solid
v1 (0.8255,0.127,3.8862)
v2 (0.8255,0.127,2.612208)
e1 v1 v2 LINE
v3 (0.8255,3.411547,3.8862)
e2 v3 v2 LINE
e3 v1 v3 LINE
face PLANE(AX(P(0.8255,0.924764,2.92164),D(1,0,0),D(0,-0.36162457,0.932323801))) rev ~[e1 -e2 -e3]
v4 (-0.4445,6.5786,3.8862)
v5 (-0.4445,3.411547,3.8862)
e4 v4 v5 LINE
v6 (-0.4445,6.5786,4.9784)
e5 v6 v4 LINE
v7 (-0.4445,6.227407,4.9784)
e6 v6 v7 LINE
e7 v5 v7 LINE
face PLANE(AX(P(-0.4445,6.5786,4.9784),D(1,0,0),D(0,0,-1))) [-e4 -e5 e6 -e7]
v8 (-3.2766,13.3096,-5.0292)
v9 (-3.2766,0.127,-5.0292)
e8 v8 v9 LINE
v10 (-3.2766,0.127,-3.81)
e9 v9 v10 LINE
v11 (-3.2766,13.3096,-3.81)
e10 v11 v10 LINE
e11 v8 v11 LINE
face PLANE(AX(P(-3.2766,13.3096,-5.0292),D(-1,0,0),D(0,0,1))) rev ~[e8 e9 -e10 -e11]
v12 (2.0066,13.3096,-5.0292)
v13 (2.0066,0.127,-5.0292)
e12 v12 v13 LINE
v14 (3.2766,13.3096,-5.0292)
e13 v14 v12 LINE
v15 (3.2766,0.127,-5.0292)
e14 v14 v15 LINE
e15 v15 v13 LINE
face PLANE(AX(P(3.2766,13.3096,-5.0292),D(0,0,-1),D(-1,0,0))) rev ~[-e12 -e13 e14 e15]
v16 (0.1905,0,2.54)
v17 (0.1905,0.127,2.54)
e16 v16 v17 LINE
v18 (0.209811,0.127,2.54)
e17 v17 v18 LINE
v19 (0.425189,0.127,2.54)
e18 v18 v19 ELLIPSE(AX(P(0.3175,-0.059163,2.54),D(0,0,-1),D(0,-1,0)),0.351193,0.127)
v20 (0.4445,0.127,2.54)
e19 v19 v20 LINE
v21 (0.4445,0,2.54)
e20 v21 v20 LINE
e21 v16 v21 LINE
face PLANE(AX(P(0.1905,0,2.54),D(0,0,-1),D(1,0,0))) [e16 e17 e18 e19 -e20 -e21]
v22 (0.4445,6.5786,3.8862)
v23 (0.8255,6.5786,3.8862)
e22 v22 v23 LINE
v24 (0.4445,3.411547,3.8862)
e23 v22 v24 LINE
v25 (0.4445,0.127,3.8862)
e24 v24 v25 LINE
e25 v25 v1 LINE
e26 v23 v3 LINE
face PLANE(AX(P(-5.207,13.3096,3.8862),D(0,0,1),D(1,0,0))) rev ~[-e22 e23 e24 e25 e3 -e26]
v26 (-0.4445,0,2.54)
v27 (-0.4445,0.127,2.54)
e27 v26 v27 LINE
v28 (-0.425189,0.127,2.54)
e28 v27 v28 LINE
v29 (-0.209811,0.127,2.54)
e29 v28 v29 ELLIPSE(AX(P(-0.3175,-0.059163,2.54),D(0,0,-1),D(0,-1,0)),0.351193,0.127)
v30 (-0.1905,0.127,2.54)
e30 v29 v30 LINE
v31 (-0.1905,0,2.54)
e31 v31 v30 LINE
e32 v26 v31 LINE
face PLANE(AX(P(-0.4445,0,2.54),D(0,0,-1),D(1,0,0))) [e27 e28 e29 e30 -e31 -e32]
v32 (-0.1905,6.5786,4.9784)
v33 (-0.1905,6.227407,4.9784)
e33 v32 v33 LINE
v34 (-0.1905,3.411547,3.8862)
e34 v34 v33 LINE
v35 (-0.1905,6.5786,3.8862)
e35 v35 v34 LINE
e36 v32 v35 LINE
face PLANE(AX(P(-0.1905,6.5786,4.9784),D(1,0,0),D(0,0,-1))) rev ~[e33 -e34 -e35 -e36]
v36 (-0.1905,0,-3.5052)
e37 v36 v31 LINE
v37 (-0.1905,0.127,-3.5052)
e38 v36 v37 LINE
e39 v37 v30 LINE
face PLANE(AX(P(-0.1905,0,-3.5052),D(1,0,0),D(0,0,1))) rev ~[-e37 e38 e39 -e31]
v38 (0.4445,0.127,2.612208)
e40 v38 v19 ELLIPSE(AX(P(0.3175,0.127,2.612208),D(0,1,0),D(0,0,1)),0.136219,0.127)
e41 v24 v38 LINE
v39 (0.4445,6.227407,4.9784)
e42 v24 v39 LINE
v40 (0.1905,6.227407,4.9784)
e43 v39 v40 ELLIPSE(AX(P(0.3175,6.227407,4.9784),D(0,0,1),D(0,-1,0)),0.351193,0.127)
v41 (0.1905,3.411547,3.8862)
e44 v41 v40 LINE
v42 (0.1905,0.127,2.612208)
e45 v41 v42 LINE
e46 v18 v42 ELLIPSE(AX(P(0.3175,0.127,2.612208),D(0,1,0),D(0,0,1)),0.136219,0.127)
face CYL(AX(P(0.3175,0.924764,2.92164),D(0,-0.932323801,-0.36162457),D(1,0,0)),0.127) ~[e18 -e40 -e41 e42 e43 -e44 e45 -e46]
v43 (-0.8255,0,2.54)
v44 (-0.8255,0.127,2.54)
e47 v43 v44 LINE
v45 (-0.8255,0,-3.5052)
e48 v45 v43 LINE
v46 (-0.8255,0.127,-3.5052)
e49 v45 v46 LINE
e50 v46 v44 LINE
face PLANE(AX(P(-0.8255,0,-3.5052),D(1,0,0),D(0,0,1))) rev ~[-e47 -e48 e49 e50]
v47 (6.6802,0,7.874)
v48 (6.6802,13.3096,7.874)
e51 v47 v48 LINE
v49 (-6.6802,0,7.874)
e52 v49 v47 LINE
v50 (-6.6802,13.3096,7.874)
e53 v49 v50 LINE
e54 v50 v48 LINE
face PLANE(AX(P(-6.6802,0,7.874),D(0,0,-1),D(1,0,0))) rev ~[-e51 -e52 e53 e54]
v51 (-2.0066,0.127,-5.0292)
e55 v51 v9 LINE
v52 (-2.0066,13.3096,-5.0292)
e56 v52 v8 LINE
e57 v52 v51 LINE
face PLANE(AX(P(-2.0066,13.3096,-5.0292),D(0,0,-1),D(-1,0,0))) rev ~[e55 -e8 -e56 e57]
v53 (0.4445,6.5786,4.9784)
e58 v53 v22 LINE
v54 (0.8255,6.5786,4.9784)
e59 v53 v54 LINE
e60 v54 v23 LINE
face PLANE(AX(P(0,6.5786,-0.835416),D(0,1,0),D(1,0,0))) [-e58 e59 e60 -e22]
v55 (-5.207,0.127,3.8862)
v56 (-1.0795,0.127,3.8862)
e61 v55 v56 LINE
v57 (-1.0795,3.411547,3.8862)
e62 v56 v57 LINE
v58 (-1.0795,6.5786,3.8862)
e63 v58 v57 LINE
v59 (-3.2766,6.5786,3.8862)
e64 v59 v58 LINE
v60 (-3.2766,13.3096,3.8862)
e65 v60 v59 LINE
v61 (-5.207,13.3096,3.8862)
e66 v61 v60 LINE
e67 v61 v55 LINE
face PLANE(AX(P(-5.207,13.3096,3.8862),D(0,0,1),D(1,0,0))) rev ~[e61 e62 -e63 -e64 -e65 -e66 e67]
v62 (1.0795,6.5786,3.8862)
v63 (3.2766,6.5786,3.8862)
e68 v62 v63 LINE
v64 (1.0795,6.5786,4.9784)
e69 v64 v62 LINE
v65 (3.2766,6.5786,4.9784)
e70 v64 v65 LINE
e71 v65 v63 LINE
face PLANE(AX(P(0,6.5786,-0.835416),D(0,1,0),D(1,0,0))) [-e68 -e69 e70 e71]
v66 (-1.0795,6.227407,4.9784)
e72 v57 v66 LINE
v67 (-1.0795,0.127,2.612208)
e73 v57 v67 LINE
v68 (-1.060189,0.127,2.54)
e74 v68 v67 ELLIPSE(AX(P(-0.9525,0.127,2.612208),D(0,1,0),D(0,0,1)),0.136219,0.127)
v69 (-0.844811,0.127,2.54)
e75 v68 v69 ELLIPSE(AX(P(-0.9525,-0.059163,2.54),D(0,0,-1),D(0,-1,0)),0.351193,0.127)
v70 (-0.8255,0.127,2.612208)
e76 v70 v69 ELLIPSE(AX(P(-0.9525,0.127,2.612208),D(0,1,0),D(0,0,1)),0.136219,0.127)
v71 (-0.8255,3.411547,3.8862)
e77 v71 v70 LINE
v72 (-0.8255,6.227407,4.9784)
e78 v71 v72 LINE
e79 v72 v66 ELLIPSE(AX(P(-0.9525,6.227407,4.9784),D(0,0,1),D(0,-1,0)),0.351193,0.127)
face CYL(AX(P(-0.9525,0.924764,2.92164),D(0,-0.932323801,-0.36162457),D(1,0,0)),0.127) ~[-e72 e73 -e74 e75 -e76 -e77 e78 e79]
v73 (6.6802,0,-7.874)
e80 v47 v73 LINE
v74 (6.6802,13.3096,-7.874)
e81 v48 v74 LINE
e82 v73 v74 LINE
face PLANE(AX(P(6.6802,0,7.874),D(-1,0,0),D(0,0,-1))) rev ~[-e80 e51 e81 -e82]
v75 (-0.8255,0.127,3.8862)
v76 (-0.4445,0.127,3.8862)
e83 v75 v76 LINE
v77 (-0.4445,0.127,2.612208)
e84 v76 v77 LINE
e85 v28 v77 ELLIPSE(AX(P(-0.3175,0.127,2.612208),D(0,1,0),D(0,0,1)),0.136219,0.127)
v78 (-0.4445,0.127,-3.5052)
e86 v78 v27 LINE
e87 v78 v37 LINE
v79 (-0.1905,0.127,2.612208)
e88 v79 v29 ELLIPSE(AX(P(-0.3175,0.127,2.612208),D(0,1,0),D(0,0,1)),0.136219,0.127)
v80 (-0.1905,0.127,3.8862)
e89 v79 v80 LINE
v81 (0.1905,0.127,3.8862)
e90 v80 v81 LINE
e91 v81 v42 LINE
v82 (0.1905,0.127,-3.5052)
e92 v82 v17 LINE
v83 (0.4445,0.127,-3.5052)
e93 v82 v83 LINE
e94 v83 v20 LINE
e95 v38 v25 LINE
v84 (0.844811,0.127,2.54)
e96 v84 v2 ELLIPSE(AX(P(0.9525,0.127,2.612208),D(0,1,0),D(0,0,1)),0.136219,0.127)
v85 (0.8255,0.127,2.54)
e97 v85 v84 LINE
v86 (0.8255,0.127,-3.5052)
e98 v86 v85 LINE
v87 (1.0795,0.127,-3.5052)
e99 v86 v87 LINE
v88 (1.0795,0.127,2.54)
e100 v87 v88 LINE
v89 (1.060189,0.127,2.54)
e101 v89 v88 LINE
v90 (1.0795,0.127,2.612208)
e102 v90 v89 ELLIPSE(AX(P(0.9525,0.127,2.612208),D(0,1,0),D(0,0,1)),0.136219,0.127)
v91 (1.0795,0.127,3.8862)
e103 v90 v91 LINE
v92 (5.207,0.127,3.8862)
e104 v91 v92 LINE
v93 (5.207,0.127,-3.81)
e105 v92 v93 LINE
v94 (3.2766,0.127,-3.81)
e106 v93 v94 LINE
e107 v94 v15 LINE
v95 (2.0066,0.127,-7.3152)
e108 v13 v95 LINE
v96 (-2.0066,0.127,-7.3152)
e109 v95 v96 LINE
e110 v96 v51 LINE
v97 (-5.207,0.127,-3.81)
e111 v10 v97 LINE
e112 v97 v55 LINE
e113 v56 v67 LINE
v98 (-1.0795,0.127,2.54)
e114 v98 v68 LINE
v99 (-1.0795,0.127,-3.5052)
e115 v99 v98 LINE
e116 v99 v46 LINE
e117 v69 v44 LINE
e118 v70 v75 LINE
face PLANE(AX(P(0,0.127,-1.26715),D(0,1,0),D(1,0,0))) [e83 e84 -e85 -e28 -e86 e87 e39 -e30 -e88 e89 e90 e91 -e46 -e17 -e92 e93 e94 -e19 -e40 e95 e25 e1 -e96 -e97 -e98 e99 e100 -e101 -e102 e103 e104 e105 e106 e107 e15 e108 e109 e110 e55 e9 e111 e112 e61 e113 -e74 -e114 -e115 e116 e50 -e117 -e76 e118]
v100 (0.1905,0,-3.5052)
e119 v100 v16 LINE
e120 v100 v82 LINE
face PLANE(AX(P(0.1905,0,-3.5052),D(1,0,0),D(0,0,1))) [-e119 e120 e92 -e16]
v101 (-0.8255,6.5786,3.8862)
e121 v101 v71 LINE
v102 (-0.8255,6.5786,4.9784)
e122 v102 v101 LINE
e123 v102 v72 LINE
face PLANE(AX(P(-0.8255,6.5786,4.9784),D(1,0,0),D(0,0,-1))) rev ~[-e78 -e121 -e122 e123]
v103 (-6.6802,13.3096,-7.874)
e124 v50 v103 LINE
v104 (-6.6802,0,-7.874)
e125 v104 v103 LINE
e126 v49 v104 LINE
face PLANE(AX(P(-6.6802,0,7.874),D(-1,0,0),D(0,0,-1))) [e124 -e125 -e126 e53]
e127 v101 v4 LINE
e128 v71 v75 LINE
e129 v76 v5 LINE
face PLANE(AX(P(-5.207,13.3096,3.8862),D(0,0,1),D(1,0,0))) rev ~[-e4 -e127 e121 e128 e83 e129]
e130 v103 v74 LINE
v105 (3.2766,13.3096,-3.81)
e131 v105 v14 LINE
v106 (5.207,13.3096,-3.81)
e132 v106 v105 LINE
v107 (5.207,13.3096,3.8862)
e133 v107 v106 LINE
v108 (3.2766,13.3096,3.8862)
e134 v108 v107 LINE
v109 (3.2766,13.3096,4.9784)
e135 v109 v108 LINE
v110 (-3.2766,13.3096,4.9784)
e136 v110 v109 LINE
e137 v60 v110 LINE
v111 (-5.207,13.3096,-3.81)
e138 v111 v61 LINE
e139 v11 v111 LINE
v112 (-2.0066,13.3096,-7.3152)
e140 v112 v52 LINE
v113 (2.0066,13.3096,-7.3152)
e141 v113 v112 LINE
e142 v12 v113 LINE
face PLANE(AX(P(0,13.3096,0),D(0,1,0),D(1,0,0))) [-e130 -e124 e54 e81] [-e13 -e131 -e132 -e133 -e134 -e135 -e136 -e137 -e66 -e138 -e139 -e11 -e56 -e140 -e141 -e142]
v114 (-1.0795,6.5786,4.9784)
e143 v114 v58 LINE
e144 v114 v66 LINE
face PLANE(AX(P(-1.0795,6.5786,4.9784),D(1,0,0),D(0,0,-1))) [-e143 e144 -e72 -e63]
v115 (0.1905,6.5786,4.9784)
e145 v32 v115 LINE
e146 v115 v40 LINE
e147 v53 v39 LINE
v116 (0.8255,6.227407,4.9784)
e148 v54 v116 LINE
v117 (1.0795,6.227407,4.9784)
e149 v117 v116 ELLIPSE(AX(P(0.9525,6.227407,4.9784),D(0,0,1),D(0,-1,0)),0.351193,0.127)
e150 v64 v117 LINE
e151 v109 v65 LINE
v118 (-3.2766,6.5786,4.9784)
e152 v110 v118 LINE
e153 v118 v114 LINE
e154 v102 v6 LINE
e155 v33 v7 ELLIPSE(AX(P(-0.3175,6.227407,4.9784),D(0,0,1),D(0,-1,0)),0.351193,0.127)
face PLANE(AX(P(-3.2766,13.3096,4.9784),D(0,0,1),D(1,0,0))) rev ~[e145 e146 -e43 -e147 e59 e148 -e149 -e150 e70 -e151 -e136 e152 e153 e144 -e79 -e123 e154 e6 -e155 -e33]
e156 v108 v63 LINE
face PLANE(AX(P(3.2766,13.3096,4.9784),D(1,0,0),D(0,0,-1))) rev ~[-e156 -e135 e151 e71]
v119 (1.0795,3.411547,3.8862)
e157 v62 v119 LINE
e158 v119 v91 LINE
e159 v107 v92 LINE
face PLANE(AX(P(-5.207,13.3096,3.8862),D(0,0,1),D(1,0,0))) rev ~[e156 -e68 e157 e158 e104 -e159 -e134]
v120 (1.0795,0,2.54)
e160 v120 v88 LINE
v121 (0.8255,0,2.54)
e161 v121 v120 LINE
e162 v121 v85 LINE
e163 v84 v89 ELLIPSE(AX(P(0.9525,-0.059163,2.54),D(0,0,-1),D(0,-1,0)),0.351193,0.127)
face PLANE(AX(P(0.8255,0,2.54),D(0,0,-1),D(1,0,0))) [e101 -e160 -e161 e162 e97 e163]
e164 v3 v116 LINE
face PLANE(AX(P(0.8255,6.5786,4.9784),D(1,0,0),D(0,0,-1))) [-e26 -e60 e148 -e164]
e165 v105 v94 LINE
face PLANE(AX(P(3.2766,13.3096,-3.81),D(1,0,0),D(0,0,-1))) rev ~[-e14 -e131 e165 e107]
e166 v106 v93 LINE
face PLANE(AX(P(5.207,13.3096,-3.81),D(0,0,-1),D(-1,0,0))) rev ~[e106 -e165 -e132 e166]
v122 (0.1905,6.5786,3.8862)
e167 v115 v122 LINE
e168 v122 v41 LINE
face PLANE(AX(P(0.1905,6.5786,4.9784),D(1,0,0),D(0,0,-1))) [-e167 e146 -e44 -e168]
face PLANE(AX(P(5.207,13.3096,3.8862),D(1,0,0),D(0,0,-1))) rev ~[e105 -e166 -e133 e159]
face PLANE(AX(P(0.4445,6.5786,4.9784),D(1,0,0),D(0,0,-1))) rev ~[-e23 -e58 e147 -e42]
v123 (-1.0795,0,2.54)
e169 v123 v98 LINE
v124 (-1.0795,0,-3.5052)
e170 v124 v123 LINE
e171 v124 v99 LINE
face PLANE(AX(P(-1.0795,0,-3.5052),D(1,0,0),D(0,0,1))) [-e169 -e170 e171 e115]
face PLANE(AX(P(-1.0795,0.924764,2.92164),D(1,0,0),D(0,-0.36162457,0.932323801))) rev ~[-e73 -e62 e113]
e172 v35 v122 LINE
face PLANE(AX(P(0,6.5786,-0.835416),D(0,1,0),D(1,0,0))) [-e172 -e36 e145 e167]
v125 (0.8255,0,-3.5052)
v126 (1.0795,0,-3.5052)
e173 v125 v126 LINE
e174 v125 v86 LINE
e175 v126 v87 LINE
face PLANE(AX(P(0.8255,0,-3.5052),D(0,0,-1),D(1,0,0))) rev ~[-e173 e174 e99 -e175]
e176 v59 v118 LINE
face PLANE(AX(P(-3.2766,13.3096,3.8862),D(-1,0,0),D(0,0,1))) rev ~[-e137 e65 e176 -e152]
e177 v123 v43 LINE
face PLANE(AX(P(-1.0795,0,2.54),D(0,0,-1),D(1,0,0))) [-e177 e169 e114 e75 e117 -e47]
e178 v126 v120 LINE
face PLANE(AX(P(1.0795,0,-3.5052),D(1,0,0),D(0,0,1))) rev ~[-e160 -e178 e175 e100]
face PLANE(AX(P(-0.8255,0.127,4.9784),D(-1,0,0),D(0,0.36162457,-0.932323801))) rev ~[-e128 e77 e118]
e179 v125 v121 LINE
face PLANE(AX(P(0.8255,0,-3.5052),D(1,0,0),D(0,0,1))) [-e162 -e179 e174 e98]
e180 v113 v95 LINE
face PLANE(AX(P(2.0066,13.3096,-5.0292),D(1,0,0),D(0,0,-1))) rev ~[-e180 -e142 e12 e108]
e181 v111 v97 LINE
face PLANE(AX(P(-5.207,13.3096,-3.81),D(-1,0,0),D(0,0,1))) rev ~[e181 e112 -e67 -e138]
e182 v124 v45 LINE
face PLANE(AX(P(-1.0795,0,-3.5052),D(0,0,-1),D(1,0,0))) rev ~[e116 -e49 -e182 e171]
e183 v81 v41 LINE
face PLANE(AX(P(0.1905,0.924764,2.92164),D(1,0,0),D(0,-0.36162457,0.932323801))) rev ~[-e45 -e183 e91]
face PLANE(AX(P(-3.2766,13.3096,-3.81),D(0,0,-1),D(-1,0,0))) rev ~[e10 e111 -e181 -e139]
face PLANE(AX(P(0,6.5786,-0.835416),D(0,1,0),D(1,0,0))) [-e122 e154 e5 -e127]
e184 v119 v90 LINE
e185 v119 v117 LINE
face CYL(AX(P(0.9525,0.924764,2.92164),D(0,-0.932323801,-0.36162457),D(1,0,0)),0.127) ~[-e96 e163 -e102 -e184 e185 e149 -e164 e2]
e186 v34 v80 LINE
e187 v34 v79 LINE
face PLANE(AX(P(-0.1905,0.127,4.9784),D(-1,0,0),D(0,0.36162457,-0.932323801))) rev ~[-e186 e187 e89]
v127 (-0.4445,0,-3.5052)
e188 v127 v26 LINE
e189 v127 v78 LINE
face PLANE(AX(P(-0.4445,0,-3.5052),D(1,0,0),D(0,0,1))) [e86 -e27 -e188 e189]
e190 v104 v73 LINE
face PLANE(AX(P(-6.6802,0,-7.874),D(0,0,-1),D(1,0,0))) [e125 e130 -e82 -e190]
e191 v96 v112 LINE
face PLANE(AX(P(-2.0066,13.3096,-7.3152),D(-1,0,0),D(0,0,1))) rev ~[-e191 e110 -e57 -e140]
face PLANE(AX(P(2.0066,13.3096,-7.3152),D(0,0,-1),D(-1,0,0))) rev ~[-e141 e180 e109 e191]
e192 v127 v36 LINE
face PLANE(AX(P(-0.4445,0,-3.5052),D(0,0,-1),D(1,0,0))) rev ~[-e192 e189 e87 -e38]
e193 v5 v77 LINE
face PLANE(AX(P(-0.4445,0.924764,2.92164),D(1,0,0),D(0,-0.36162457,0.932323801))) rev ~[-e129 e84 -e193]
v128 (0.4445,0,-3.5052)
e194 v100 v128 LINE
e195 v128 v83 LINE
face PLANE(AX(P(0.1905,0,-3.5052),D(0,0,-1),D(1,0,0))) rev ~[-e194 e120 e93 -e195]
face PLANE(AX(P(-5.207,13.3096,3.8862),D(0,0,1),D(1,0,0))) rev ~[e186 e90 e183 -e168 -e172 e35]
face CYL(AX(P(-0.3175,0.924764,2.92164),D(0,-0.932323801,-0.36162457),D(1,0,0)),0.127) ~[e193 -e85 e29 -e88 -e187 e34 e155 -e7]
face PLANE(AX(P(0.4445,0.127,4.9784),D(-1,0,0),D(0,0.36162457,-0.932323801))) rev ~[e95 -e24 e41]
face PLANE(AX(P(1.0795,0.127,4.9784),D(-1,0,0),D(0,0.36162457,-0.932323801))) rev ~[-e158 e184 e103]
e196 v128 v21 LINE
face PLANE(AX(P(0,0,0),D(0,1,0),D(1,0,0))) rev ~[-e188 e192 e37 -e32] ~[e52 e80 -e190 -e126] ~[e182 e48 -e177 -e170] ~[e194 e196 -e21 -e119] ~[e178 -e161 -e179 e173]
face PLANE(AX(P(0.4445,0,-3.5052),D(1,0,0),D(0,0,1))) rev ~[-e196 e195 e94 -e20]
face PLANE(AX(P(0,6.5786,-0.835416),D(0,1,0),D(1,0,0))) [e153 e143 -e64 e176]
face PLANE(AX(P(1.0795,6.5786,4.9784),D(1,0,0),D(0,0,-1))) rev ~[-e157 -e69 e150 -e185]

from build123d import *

# Parameters (mm, degrees)
SKETCH1_W                       = 13.3604
SKETCH1_H                       = 15.748
BOSS_EXTRUDE1_DEPTH             = 13.3096
CUT_EXTRUDE1_DEPTH              = 6.731
CUT_EXTRUDE2_DEPTH              = 6.4516
SKETCH4_W                       = 0.254
SKETCH4_H                       = 1.0922
CUT_EXTRUDE3_DEPTH              = 6.4516
BOSS_EXTRUDE2_REACH             = 17.835
BOSS_EXTRUDE2_DIRECTION_2_REACH = 17.835
CUT_EXTRUDE4_REACH              = 18.845
SKETCH6_W                       = 0.254
SKETCH6_H                       = 6.0452


with BuildPart() as part:
    # Sketch1 → Boss-Extrude1 (new body)
    with BuildSketch(Plane(origin=(0, 0, 0), x_dir=(1, 0, 0), z_dir=(0, 1, 0))):
        Rectangle(SKETCH1_W, SKETCH1_H)
    extrude(amount=BOSS_EXTRUDE1_DEPTH)

    # Sketch2 → Cut-Extrude1 (cut)
    with BuildSketch(Plane(origin=(0, 13.3096, 0), x_dir=(1, 0, 0), z_dir=(0, 1, 0))):
        Polygon((-2.0066, 7.3152), (-2.0066, 5.0292), (-3.2766, 5.0292), (-3.2766, 3.81), (-5.207, 3.81), (-5.207, -3.8862), (-3.2766, -3.8862), (-3.2766, -4.9784), (3.2766, -4.9784), (3.2766, -3.8862), (5.207, -3.8862), (5.207, 3.81), (3.2766, 3.81), (3.2766, 5.0292), (2.0066, 5.0292), (2.0066, 7.3152), align=None)
    extrude(amount=-CUT_EXTRUDE1_DEPTH, mode=Mode.SUBTRACT)

    # Sketch3 → Cut-Extrude2 (cut)
    with BuildSketch(Plane(origin=(0, 6.5786, 0), x_dir=(1, 0, 0), z_dir=(0, 1, 0))):
        Polygon((-3.2766, -3.8862), (3.2766, -3.8862), (5.207, -3.8862), (5.207, 3.81), (3.2766, 3.81), (3.2766, 5.0292), (2.0066, 5.0292), (2.0066, 7.3152), (-2.0066, 7.3152), (-2.0066, 5.0292), (-3.2766, 5.0292), (-3.2766, 3.81), (-5.207, 3.81), (-5.207, -3.8862), align=None)
    extrude(amount=-CUT_EXTRUDE2_DEPTH, mode=Mode.SUBTRACT)

    # Sketch4 → Cut-Extrude3 (cut)
    with BuildSketch(Plane(origin=(0, 6.5786, 0), x_dir=(1, 0, 0), z_dir=(0, 1, 0))):
        with Locations((-0.9525, -4.4323)):
            Rectangle(SKETCH4_W, SKETCH4_H)
        with Locations((-0.3175, -4.4323)):
            Rectangle(SKETCH4_W, SKETCH4_H)
        with Locations((0.3175, -4.4323)):
            Rectangle(SKETCH4_W, SKETCH4_H)
        with Locations((0.9525, -4.4323)):
            Rectangle(SKETCH4_W, SKETCH4_H)
    extrude(amount=-CUT_EXTRUDE3_DEPTH, mode=Mode.SUBTRACT)

    # Sketch5 → Boss-Extrude2 (add, up to next)
    with BuildSketch(Plane(origin=(0, 1.788865417, 0.693855168), x_dir=(-1, 0, 0), z_dir=(0, -0.9323238012155132, -0.3616245700820899)), mode=Mode.PRIVATE) as boss_extrude2_sk1:
        with BuildLine():
            Line((1.0795, -4.595554492), (0.8255, -4.595554492))
            Line((0.8255, -4.595554492), (0.8255, -2.389497415))
            ThreePointArc((0.8255, -2.389497415), (0.9525, -2.262497415), (1.0795, -2.389497415))
            Line((1.0795, -2.389497415), (1.0795, -4.595554492))
        make_face()
    boss_extrude2_tool1 = extrude(boss_extrude2_sk1.sketch, amount=BOSS_EXTRUDE2_REACH, mode=Mode.PRIVATE) - part.part
    # Sketch5 → Boss-Extrude2 (add, up to next)
    with BuildSketch(Plane(origin=(0, 1.788865417, 0.693855168), x_dir=(-1, 0, 0), z_dir=(0, -0.9323238012155132, -0.3616245700820899)), mode=Mode.PRIVATE) as boss_extrude2_sk2:
        with BuildLine():
            Line((0.4445, -4.595554492), (0.1905, -4.595554492))
            Line((0.1905, -4.595554492), (0.1905, -2.389497415))
            ThreePointArc((0.1905, -2.389497415), (0.3175, -2.262497415), (0.4445, -2.389497415))
            Line((0.4445, -2.389497415), (0.4445, -4.595554492))
        make_face()
    boss_extrude2_tool2 = extrude(boss_extrude2_sk2.sketch, amount=BOSS_EXTRUDE2_REACH, mode=Mode.PRIVATE) - part.part
    # Sketch5 → Boss-Extrude2 (add, up to next)
    with BuildSketch(Plane(origin=(0, 1.788865417, 0.693855168), x_dir=(-1, 0, 0), z_dir=(0, -0.9323238012155132, -0.3616245700820899)), mode=Mode.PRIVATE) as boss_extrude2_sk3:
        with BuildLine():
            Line((-0.1905, -4.595554492), (-0.4445, -4.595554492))
            Line((-0.4445, -4.595554492), (-0.4445, -2.389497415))
            ThreePointArc((-0.4445, -2.389497415), (-0.3175, -2.262497415), (-0.1905, -2.389497415))
            Line((-0.1905, -2.389497415), (-0.1905, -4.595554492))
        make_face()
    boss_extrude2_tool3 = extrude(boss_extrude2_sk3.sketch, amount=BOSS_EXTRUDE2_REACH, mode=Mode.PRIVATE) - part.part
    # Sketch5 → Boss-Extrude2 (add, up to next)
    with BuildSketch(Plane(origin=(0, 1.788865417, 0.693855168), x_dir=(-1, 0, 0), z_dir=(0, -0.9323238012155132, -0.3616245700820899)), mode=Mode.PRIVATE) as boss_extrude2_sk4:
        with BuildLine():
            Line((-0.8255, -4.595554492), (-1.0795, -4.595554492))
            Line((-1.0795, -4.595554492), (-1.0795, -2.389497415))
            ThreePointArc((-1.0795, -2.389497415), (-0.9525, -2.262497415), (-0.8255, -2.389497415))
            Line((-0.8255, -2.389497415), (-0.8255, -4.595554492))
        make_face()
    boss_extrude2_tool4 = extrude(boss_extrude2_sk4.sketch, amount=BOSS_EXTRUDE2_REACH, mode=Mode.PRIVATE) - part.part
    add(boss_extrude2_tool1.solids().sort_by_distance((-0.9525, 0.54398, 3.90336))[0])
    add(boss_extrude2_tool2.solids().sort_by_distance((-0.3175, 0.54398, 3.90336))[0])
    add(boss_extrude2_tool3.solids().sort_by_distance((0.3175, 0.54398, 3.90336))[0])
    add(boss_extrude2_tool4.solids().sort_by_distance((0.9525, 0.54398, 3.90336))[0])

    # Sketch5 → Boss-Extrude2 direction 2 (add, up to next)
    with BuildSketch(Plane(origin=(0, 1.788865417, 0.693855168), x_dir=(-1, 0, 0), z_dir=(0, -0.9323238012155132, -0.3616245700820899)), mode=Mode.PRIVATE) as boss_extrude2_direction_2_sk1:
        with BuildLine():
            Line((1.0795, -4.595554492), (0.8255, -4.595554492))
            Line((0.8255, -4.595554492), (0.8255, -2.389497415))
            ThreePointArc((0.8255, -2.389497415), (0.9525, -2.262497415), (1.0795, -2.389497415))
            Line((1.0795, -2.389497415), (1.0795, -4.595554492))
        make_face()
    boss_extrude2_direction_2_tool1 = extrude(boss_extrude2_direction_2_sk1.sketch, amount=-BOSS_EXTRUDE2_DIRECTION_2_REACH, mode=Mode.PRIVATE) - part.part
    # Sketch5 → Boss-Extrude2 direction 2 (add, up to next)
    with BuildSketch(Plane(origin=(0, 1.788865417, 0.693855168), x_dir=(-1, 0, 0), z_dir=(0, -0.9323238012155132, -0.3616245700820899)), mode=Mode.PRIVATE) as boss_extrude2_direction_2_sk2:
        with BuildLine():
            Line((0.4445, -4.595554492), (0.1905, -4.595554492))
            Line((0.1905, -4.595554492), (0.1905, -2.389497415))
            ThreePointArc((0.1905, -2.389497415), (0.3175, -2.262497415), (0.4445, -2.389497415))
            Line((0.4445, -2.389497415), (0.4445, -4.595554492))
        make_face()
    boss_extrude2_direction_2_tool2 = extrude(boss_extrude2_direction_2_sk2.sketch, amount=-BOSS_EXTRUDE2_DIRECTION_2_REACH, mode=Mode.PRIVATE) - part.part
    # Sketch5 → Boss-Extrude2 direction 2 (add, up to next)
    with BuildSketch(Plane(origin=(0, 1.788865417, 0.693855168), x_dir=(-1, 0, 0), z_dir=(0, -0.9323238012155132, -0.3616245700820899)), mode=Mode.PRIVATE) as boss_extrude2_direction_2_sk3:
        with BuildLine():
            Line((-0.1905, -4.595554492), (-0.4445, -4.595554492))
            Line((-0.4445, -4.595554492), (-0.4445, -2.389497415))
            ThreePointArc((-0.4445, -2.389497415), (-0.3175, -2.262497415), (-0.1905, -2.389497415))
            Line((-0.1905, -2.389497415), (-0.1905, -4.595554492))
        make_face()
    boss_extrude2_direction_2_tool3 = extrude(boss_extrude2_direction_2_sk3.sketch, amount=-BOSS_EXTRUDE2_DIRECTION_2_REACH, mode=Mode.PRIVATE) - part.part
    # Sketch5 → Boss-Extrude2 direction 2 (add, up to next)
    with BuildSketch(Plane(origin=(0, 1.788865417, 0.693855168), x_dir=(-1, 0, 0), z_dir=(0, -0.9323238012155132, -0.3616245700820899)), mode=Mode.PRIVATE) as boss_extrude2_direction_2_sk4:
        with BuildLine():
            Line((-0.8255, -4.595554492), (-1.0795, -4.595554492))
            Line((-1.0795, -4.595554492), (-1.0795, -2.389497415))
            ThreePointArc((-1.0795, -2.389497415), (-0.9525, -2.262497415), (-0.8255, -2.389497415))
            Line((-0.8255, -2.389497415), (-0.8255, -4.595554492))
        make_face()
    boss_extrude2_direction_2_tool4 = extrude(boss_extrude2_direction_2_sk4.sketch, amount=-BOSS_EXTRUDE2_DIRECTION_2_REACH, mode=Mode.PRIVATE) - part.part
    add(boss_extrude2_direction_2_tool1.solids().sort_by_distance((-0.9525, 0.54398, 3.90336))[0])
    add(boss_extrude2_direction_2_tool2.solids().sort_by_distance((-0.3175, 0.54398, 3.90336))[0])
    add(boss_extrude2_direction_2_tool3.solids().sort_by_distance((0.3175, 0.54398, 3.90336))[0])
    add(boss_extrude2_direction_2_tool4.solids().sort_by_distance((0.9525, 0.54398, 3.90336))[0])

    # Sketch6 → Cut-Extrude4 (cut, up to next)
    with BuildSketch(Plane.XZ, mode=Mode.PRIVATE) as cut_extrude4_sk1:
        with Locations((-0.9525, -0.4826)):
            Rectangle(SKETCH6_W, SKETCH6_H)
    cut_extrude4_tool1 = extrude(cut_extrude4_sk1.sketch, amount=-CUT_EXTRUDE4_REACH, mode=Mode.PRIVATE) & part.part
    # Sketch6 → Cut-Extrude4 (cut, up to next)
    with BuildSketch(Plane.XZ, mode=Mode.PRIVATE) as cut_extrude4_sk2:
        with Locations((-0.3175, -0.4826)):
            Rectangle(SKETCH6_W, SKETCH6_H)
    cut_extrude4_tool2 = extrude(cut_extrude4_sk2.sketch, amount=-CUT_EXTRUDE4_REACH, mode=Mode.PRIVATE) & part.part
    # Sketch6 → Cut-Extrude4 (cut, up to next)
    with BuildSketch(Plane.XZ, mode=Mode.PRIVATE) as cut_extrude4_sk3:
        with Locations((0.9525, -0.4826)):
            Rectangle(SKETCH6_W, SKETCH6_H)
    cut_extrude4_tool3 = extrude(cut_extrude4_sk3.sketch, amount=-CUT_EXTRUDE4_REACH, mode=Mode.PRIVATE) & part.part
    # Sketch6 → Cut-Extrude4 (cut, up to next)
    with BuildSketch(Plane.XZ, mode=Mode.PRIVATE) as cut_extrude4_sk4:
        with Locations((0.3175, -0.4826)):
            Rectangle(SKETCH6_W, SKETCH6_H)
    cut_extrude4_tool4 = extrude(cut_extrude4_sk4.sketch, amount=-CUT_EXTRUDE4_REACH, mode=Mode.PRIVATE) & part.part
    add(cut_extrude4_tool1.solids().sort_by_distance((-0.9525, 0, -0.4826))[0], mode=Mode.SUBTRACT)
    add(cut_extrude4_tool2.solids().sort_by_distance((-0.3175, 0, -0.4826))[0], mode=Mode.SUBTRACT)
    add(cut_extrude4_tool3.solids().sort_by_distance((0.9525, 0, -0.4826))[0], mode=Mode.SUBTRACT)
    add(cut_extrude4_tool4.solids().sort_by_distance((0.3175, 0, -0.4826))[0], mode=Mode.SUBTRACT)


solid = part.part
